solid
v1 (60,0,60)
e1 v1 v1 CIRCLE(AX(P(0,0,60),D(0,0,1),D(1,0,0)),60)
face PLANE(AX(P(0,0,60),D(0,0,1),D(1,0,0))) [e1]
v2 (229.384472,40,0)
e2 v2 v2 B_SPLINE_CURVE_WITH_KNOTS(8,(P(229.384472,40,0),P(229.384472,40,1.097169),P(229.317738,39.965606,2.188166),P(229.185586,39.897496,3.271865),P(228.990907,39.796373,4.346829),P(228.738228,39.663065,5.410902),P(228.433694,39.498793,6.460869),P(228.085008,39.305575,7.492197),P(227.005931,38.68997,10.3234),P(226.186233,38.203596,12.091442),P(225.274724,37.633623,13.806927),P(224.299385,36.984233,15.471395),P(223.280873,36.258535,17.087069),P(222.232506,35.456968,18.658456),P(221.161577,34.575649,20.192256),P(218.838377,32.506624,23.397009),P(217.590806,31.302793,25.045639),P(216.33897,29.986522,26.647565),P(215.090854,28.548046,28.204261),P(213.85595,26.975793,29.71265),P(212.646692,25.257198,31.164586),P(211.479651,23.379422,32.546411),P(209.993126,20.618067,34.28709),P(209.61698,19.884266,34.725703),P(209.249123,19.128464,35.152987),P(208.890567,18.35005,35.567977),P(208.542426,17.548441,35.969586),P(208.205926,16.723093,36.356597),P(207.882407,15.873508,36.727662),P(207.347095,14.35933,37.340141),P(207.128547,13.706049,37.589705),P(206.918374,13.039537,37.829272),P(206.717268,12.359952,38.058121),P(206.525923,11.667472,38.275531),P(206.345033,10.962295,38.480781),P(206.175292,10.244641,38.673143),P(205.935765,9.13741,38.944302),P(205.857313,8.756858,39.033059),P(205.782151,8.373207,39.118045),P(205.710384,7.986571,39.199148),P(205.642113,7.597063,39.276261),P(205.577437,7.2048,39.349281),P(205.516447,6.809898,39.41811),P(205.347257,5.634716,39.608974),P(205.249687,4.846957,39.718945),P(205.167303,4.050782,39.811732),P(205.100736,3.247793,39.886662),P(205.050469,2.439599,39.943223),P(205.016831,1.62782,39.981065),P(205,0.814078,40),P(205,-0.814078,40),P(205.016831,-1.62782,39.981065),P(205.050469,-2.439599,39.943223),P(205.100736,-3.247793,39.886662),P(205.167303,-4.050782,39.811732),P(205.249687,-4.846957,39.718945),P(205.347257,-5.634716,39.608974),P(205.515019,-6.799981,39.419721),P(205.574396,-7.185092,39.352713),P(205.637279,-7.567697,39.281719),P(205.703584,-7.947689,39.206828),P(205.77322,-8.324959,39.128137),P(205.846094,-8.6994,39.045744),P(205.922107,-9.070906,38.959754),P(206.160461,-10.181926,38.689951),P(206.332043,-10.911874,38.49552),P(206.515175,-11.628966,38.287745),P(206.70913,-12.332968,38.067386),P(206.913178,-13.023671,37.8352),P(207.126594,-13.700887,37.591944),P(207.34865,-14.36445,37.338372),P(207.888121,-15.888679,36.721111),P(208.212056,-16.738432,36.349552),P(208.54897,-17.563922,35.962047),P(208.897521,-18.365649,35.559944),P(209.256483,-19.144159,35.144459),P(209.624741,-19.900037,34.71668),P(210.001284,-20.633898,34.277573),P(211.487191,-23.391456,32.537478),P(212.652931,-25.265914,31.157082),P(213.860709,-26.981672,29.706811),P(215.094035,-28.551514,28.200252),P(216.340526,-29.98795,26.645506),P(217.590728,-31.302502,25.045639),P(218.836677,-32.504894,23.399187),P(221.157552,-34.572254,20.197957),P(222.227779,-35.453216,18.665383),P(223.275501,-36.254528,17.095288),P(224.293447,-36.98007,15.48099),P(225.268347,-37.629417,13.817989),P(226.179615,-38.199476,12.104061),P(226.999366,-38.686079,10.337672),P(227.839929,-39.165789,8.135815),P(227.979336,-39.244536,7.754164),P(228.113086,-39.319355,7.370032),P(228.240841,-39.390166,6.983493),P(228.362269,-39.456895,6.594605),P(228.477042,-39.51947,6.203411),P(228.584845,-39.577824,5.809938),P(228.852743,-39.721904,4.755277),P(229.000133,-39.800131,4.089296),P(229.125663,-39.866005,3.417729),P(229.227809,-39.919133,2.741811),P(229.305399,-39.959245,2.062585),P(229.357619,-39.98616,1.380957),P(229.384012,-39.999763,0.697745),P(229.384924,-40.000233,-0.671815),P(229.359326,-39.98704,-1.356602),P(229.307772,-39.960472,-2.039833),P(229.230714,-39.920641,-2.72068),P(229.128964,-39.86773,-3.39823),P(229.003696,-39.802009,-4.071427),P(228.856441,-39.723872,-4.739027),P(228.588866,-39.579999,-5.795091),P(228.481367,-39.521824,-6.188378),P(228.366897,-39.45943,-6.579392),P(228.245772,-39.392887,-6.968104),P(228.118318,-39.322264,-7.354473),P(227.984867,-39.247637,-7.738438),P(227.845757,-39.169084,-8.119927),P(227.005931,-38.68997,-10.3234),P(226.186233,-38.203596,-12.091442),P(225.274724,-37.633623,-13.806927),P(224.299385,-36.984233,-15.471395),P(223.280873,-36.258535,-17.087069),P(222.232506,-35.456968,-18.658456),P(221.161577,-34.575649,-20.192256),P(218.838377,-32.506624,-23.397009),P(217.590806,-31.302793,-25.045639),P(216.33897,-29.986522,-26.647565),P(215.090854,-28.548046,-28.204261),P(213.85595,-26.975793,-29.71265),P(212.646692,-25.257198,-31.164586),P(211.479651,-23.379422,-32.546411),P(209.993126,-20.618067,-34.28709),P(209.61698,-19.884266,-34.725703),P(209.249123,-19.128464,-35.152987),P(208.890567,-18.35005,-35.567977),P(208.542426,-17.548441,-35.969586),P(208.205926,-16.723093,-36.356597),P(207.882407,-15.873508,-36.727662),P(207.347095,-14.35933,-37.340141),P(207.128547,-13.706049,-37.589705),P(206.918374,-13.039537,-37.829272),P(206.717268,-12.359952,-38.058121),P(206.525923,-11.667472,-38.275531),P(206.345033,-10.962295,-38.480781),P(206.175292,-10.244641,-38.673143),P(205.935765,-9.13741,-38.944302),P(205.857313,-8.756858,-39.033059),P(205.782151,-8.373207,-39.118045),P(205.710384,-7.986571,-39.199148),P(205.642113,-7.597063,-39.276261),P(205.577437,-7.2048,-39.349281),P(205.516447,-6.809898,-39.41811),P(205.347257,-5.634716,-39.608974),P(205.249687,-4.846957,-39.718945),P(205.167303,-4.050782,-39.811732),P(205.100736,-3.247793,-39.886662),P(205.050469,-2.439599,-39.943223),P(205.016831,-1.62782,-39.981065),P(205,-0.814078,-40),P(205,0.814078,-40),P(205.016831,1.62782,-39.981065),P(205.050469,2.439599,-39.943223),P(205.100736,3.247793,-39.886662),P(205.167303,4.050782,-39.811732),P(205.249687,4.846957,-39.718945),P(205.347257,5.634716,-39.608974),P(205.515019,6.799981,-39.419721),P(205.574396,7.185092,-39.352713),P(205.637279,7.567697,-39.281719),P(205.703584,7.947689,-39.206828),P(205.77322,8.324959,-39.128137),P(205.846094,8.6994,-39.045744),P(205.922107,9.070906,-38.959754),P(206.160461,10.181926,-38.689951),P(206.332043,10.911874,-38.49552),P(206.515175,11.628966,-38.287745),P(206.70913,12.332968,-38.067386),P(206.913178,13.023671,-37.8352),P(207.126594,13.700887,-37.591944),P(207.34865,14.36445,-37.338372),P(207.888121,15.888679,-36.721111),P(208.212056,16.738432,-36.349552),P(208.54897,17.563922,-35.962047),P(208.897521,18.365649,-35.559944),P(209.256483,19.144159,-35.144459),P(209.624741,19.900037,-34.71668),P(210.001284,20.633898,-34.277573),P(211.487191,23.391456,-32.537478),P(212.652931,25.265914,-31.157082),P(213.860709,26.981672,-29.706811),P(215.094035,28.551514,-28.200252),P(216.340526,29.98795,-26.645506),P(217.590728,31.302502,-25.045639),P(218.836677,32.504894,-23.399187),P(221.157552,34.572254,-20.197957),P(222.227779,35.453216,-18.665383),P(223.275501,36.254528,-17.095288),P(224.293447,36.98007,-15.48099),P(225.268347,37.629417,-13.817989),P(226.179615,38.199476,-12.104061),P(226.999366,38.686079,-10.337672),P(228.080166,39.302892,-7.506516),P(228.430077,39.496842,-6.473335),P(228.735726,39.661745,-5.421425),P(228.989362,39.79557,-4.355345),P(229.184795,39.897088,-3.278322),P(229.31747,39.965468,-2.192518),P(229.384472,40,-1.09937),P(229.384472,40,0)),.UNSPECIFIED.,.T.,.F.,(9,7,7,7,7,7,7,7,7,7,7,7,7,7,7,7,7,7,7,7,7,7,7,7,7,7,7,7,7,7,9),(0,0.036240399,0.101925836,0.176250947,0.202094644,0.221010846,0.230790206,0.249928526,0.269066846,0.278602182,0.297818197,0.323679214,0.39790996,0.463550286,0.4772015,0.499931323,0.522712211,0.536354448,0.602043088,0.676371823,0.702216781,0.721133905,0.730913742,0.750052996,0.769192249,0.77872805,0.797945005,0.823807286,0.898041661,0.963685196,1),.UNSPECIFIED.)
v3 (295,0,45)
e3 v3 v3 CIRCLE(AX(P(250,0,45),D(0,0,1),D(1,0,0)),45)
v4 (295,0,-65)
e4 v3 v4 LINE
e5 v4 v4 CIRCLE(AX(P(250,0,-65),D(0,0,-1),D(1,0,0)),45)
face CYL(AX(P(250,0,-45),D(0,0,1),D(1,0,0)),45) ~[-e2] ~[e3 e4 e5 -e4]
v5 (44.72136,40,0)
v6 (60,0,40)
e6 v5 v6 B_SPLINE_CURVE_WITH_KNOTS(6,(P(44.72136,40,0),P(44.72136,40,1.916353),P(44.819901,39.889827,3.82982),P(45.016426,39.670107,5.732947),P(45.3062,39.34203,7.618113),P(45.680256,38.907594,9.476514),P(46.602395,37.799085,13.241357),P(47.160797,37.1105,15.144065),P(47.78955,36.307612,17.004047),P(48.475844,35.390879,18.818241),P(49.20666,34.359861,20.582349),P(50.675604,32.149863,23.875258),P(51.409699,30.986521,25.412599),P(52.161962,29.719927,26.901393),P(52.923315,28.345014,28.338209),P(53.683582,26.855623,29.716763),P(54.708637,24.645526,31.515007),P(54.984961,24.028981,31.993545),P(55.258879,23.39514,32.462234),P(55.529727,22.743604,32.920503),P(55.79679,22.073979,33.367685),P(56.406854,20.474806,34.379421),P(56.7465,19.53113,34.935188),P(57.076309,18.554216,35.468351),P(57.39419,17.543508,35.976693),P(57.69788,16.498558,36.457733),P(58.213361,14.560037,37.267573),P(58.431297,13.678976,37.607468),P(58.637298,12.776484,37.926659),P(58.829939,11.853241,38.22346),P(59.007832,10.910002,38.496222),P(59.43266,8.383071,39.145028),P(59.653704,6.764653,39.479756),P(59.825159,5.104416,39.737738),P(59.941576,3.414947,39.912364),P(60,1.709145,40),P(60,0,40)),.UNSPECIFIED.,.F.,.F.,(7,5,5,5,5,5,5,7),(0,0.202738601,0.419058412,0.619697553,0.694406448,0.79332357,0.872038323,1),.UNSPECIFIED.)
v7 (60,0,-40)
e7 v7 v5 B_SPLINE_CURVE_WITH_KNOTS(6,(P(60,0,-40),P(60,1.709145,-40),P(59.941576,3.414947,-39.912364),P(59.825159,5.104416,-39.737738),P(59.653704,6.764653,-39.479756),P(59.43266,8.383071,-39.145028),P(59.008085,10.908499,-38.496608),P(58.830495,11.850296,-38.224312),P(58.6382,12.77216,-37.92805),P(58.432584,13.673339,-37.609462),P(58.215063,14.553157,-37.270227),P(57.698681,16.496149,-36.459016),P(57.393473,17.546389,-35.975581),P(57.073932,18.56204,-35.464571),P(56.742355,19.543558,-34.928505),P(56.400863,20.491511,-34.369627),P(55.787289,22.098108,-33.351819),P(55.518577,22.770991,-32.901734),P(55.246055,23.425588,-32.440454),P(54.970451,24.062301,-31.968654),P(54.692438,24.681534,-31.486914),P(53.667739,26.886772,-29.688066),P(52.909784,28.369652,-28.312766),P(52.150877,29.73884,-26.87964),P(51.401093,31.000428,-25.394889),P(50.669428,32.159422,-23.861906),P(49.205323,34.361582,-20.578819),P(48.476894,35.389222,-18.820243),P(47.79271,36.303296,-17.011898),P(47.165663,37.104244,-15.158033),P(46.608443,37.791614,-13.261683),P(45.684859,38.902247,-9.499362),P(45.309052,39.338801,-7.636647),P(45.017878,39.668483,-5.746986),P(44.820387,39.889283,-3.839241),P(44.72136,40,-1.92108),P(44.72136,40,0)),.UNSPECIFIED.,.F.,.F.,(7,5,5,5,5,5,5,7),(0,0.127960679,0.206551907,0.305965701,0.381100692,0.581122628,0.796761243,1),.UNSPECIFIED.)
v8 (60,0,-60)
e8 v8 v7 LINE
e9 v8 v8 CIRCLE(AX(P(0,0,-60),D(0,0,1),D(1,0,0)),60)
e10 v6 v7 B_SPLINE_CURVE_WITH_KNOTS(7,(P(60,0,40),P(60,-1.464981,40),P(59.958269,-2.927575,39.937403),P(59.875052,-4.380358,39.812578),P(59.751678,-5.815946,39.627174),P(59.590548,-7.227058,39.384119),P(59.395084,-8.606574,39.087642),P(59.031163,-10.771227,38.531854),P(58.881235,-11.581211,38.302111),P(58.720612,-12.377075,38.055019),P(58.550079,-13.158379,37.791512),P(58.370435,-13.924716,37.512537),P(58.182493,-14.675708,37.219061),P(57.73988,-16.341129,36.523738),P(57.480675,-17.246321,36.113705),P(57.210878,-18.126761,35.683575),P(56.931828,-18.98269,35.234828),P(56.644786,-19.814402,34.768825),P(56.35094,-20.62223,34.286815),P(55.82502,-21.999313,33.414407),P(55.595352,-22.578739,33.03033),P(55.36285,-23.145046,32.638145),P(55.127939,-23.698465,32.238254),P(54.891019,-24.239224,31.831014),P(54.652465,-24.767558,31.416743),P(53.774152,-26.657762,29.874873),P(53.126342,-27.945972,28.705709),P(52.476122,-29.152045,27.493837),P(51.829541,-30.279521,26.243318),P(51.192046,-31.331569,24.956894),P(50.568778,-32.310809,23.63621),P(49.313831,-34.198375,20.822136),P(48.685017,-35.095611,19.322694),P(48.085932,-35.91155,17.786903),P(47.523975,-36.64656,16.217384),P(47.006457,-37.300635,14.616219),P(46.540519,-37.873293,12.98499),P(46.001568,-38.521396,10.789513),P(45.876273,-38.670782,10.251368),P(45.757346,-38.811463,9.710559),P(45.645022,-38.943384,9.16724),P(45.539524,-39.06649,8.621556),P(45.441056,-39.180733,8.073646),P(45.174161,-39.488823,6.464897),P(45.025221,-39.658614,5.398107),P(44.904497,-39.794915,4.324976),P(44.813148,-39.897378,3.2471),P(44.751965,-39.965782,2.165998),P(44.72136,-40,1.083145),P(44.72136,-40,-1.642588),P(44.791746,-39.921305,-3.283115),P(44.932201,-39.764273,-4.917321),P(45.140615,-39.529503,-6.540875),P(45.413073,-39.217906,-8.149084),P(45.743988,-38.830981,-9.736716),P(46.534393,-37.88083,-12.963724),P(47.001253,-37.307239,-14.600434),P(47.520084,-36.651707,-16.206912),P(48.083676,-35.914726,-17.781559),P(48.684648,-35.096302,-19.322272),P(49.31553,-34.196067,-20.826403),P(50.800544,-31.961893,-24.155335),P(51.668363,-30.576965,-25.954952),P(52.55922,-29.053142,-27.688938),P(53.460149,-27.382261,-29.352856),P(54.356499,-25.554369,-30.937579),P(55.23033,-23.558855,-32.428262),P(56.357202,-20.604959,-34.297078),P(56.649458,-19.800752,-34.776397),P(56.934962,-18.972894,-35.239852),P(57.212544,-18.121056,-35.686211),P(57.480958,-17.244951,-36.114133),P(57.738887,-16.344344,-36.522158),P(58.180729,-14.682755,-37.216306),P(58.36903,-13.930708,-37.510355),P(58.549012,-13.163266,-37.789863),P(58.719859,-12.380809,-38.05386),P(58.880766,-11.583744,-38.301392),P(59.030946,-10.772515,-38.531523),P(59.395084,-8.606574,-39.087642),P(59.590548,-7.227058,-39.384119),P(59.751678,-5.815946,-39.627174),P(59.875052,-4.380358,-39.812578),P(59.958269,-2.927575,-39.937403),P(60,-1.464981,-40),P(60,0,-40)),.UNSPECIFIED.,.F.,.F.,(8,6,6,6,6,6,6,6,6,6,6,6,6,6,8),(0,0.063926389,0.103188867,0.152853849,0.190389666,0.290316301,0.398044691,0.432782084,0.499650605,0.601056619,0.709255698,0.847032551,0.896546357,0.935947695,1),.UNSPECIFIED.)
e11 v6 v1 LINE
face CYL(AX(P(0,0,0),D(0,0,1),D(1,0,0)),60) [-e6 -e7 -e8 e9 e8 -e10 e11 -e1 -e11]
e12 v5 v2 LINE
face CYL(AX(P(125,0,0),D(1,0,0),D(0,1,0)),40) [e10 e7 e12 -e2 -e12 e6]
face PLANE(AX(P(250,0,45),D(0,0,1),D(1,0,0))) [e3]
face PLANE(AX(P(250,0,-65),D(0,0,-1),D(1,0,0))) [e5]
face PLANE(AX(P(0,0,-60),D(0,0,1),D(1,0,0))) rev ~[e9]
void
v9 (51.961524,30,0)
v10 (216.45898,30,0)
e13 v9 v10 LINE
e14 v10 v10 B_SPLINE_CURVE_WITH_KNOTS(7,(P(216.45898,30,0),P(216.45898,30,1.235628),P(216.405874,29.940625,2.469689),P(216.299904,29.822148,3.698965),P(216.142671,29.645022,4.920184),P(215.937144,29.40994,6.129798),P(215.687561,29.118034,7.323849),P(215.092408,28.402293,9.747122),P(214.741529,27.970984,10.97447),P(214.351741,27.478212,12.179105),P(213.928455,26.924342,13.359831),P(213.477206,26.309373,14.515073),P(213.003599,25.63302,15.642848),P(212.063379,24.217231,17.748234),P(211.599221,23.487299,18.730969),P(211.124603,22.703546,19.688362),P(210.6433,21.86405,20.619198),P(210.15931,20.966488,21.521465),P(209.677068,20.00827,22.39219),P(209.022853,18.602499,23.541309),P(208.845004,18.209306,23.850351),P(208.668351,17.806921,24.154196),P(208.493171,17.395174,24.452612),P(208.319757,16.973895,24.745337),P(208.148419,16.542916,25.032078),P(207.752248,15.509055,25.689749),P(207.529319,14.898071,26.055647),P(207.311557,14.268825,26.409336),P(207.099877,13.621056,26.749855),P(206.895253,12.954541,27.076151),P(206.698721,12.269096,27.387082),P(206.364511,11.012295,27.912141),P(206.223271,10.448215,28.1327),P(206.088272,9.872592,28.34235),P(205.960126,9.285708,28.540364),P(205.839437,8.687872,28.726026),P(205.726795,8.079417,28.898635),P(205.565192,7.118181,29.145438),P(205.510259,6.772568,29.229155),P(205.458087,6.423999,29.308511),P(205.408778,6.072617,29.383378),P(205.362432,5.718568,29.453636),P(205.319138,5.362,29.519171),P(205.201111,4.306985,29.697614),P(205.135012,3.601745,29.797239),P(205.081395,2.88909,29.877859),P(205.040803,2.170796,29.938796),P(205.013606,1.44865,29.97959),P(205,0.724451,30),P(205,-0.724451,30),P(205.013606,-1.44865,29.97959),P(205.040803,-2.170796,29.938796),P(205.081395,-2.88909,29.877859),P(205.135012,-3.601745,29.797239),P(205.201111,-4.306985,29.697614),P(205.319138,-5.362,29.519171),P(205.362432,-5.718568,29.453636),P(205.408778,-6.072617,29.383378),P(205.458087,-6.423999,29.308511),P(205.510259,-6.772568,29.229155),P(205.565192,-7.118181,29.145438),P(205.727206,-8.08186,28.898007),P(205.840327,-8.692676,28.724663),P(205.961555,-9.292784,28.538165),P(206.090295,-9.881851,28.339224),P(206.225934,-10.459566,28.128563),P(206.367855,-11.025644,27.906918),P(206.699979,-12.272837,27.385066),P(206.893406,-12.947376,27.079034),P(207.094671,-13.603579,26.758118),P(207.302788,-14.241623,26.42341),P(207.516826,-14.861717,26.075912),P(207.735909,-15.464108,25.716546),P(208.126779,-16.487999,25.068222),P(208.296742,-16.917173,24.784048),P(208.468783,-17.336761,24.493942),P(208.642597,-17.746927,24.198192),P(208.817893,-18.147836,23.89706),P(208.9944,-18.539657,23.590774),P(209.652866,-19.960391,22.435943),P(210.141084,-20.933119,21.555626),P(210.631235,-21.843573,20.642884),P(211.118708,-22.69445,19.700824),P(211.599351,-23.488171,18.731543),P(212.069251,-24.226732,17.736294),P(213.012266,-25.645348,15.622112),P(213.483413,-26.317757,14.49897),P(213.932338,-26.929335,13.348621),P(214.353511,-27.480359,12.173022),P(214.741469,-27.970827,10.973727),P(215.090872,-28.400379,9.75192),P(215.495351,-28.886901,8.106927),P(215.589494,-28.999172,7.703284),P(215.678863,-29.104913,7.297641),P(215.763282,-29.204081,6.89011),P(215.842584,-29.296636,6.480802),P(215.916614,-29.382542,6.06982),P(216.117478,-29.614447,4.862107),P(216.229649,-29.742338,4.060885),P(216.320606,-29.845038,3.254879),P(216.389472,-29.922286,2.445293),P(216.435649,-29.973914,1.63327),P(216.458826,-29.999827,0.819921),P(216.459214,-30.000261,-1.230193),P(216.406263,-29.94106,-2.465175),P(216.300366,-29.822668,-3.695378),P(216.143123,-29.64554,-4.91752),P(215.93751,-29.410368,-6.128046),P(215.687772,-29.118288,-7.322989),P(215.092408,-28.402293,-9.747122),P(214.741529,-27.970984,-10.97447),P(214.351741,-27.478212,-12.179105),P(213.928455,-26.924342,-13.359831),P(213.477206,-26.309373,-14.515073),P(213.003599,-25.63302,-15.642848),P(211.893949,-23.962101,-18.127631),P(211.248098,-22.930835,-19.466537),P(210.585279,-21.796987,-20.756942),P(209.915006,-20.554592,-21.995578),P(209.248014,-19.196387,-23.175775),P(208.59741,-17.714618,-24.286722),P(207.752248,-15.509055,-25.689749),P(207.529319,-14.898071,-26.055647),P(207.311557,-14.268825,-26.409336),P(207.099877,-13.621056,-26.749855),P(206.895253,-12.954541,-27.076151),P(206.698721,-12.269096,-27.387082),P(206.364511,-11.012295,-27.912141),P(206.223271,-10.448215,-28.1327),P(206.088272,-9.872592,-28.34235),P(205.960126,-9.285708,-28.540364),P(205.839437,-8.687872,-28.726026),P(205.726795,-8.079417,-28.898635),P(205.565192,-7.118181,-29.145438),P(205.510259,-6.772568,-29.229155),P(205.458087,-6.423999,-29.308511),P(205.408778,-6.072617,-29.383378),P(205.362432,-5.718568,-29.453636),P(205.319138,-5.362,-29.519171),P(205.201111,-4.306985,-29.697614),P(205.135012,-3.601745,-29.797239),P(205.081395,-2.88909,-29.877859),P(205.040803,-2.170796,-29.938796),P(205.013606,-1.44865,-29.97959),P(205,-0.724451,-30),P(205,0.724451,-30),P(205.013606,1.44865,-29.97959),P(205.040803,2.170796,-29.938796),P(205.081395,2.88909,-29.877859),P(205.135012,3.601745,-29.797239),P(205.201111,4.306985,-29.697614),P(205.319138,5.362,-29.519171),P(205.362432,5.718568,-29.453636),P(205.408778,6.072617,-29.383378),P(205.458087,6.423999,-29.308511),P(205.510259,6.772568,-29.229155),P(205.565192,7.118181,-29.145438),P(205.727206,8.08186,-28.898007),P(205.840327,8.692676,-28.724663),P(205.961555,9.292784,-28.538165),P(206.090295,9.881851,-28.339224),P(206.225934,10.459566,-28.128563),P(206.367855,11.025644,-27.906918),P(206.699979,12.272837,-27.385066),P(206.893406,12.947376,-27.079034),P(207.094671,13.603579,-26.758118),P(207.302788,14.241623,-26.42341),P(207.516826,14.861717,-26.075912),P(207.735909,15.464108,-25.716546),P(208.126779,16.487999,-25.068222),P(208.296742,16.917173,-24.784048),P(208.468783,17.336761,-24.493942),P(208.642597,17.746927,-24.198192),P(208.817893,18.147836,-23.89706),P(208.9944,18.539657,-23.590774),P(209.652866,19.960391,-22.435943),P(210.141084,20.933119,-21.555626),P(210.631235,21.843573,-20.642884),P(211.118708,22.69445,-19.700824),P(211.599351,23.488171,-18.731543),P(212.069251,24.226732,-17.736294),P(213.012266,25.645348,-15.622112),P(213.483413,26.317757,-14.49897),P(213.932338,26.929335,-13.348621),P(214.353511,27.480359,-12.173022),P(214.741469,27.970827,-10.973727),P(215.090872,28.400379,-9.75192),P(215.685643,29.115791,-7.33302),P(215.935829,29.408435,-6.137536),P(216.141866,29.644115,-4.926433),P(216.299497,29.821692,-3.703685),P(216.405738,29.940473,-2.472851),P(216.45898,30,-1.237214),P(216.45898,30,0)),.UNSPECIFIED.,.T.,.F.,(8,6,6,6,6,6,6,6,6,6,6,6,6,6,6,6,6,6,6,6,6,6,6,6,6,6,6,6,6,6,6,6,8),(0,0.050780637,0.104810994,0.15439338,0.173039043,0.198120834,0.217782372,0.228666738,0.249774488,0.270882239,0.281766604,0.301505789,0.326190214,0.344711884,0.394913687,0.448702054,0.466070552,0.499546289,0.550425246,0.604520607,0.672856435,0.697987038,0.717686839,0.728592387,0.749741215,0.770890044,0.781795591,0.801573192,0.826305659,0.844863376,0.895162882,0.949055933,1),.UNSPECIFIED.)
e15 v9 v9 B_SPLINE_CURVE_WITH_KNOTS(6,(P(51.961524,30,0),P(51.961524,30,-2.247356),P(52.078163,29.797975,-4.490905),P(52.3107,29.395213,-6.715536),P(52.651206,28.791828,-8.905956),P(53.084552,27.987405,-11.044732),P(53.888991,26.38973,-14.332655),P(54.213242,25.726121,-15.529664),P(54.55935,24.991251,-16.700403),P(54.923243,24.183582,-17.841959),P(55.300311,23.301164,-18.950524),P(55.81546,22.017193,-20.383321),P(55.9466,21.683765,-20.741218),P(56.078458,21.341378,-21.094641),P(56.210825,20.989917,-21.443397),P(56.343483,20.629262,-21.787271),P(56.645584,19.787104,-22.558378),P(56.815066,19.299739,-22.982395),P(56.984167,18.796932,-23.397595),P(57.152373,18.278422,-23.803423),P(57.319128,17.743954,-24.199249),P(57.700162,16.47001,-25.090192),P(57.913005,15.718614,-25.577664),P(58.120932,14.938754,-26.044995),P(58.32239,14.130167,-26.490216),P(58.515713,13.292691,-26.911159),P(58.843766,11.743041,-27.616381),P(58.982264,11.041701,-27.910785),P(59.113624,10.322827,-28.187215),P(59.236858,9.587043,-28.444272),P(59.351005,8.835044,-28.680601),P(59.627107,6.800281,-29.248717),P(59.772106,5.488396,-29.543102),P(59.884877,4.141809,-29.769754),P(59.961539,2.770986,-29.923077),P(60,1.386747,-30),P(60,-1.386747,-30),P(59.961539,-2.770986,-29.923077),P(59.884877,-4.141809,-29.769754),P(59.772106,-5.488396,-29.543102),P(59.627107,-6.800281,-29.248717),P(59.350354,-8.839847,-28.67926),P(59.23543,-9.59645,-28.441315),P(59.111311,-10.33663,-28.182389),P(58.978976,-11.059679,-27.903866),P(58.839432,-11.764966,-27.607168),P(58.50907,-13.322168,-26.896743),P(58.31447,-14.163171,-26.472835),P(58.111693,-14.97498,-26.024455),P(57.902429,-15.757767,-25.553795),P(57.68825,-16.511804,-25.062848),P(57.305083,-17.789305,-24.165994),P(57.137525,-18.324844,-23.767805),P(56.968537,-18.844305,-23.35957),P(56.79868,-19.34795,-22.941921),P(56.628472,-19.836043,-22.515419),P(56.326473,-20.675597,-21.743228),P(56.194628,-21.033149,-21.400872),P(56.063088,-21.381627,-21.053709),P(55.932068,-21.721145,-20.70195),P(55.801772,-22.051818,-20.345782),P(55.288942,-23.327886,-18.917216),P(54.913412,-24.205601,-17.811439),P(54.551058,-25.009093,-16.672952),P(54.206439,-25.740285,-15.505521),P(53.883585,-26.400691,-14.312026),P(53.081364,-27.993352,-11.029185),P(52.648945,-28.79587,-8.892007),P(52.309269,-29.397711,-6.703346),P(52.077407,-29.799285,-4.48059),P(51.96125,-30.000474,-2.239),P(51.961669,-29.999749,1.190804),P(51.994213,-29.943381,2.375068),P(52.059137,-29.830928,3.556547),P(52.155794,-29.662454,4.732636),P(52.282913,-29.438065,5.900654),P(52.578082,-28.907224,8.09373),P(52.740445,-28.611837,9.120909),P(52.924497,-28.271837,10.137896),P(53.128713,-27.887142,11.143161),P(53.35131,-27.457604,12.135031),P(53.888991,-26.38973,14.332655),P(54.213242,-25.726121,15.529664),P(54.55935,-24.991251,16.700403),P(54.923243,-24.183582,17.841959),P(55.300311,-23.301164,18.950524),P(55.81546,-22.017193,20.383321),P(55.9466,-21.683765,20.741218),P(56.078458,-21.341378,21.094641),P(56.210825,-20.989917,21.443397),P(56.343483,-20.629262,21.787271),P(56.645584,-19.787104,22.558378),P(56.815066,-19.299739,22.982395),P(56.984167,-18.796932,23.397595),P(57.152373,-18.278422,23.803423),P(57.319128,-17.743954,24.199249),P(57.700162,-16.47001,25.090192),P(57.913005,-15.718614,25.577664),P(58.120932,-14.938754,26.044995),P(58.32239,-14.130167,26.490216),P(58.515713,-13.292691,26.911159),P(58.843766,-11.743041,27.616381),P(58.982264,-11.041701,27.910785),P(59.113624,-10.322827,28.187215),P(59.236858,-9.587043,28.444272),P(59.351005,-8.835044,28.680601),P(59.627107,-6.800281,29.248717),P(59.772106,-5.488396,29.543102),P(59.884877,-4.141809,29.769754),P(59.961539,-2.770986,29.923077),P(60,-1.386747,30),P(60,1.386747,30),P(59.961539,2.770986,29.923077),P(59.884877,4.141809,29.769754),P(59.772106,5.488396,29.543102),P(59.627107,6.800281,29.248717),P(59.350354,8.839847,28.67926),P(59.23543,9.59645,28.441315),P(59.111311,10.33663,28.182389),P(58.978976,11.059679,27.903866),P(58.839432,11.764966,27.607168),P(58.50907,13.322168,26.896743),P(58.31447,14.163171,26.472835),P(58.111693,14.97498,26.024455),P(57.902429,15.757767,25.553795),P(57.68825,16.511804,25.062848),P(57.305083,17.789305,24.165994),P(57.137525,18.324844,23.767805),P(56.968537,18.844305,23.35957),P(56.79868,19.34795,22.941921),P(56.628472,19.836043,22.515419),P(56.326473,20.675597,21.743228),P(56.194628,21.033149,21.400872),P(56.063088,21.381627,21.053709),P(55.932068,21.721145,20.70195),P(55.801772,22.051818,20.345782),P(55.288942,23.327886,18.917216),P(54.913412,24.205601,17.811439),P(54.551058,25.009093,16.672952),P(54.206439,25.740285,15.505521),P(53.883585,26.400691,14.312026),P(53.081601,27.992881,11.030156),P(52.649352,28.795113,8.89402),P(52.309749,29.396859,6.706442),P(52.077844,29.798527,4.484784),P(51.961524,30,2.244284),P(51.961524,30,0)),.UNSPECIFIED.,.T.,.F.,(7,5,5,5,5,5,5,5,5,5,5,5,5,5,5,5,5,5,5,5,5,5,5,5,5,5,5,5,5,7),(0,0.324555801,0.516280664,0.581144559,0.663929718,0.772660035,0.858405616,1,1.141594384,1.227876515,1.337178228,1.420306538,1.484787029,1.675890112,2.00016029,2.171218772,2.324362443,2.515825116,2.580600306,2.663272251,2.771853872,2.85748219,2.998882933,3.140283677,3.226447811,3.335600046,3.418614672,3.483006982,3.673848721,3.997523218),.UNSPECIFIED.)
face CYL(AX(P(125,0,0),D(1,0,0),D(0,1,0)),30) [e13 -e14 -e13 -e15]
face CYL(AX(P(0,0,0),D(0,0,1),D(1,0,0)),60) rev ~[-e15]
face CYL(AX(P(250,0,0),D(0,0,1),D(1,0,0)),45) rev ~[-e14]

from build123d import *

# Parameters (mm, degrees)
SKETCH_W     = 250
SKETCH_H     = 10
SKETCH001_R  = 60
PAD_DEPTH    = 60
SKETCH002_R  = 45
PAD001_DEPTH = 45
SKETCH003_R  = 45
PAD002_DEPTH = 20


with BuildPart() as part:
    # Sketch → Revolution (revolve)
    with BuildSketch(Plane.XY):
        with Locations((125, 35)):
            Rectangle(SKETCH_W, SKETCH_H)
    revolve(axis=Axis((0, 0, 0), (1, 0, 0)))

    # Sketch001 → Pad (new body, symmetric)
    with BuildSketch(Plane.XY):
        Circle(SKETCH001_R)
    extrude(amount=PAD_DEPTH, both=True)

    # Sketch002 → Pad001 (join, symmetric)
    with BuildSketch(Plane.XY):
        with Locations((250, 0)):
            Circle(SKETCH002_R)
    extrude(amount=PAD001_DEPTH, both=True)

    # Sketch003 (on Face6 of Pad001) → Pad002 (join)
    with BuildSketch(Plane(origin=(0, 0, -45), x_dir=(1, 0, 0), z_dir=(0, 0, -1))):
        with Locations((250, 0)):
            Circle(SKETCH003_R)
    extrude(amount=PAD002_DEPTH)


solid = part.part
